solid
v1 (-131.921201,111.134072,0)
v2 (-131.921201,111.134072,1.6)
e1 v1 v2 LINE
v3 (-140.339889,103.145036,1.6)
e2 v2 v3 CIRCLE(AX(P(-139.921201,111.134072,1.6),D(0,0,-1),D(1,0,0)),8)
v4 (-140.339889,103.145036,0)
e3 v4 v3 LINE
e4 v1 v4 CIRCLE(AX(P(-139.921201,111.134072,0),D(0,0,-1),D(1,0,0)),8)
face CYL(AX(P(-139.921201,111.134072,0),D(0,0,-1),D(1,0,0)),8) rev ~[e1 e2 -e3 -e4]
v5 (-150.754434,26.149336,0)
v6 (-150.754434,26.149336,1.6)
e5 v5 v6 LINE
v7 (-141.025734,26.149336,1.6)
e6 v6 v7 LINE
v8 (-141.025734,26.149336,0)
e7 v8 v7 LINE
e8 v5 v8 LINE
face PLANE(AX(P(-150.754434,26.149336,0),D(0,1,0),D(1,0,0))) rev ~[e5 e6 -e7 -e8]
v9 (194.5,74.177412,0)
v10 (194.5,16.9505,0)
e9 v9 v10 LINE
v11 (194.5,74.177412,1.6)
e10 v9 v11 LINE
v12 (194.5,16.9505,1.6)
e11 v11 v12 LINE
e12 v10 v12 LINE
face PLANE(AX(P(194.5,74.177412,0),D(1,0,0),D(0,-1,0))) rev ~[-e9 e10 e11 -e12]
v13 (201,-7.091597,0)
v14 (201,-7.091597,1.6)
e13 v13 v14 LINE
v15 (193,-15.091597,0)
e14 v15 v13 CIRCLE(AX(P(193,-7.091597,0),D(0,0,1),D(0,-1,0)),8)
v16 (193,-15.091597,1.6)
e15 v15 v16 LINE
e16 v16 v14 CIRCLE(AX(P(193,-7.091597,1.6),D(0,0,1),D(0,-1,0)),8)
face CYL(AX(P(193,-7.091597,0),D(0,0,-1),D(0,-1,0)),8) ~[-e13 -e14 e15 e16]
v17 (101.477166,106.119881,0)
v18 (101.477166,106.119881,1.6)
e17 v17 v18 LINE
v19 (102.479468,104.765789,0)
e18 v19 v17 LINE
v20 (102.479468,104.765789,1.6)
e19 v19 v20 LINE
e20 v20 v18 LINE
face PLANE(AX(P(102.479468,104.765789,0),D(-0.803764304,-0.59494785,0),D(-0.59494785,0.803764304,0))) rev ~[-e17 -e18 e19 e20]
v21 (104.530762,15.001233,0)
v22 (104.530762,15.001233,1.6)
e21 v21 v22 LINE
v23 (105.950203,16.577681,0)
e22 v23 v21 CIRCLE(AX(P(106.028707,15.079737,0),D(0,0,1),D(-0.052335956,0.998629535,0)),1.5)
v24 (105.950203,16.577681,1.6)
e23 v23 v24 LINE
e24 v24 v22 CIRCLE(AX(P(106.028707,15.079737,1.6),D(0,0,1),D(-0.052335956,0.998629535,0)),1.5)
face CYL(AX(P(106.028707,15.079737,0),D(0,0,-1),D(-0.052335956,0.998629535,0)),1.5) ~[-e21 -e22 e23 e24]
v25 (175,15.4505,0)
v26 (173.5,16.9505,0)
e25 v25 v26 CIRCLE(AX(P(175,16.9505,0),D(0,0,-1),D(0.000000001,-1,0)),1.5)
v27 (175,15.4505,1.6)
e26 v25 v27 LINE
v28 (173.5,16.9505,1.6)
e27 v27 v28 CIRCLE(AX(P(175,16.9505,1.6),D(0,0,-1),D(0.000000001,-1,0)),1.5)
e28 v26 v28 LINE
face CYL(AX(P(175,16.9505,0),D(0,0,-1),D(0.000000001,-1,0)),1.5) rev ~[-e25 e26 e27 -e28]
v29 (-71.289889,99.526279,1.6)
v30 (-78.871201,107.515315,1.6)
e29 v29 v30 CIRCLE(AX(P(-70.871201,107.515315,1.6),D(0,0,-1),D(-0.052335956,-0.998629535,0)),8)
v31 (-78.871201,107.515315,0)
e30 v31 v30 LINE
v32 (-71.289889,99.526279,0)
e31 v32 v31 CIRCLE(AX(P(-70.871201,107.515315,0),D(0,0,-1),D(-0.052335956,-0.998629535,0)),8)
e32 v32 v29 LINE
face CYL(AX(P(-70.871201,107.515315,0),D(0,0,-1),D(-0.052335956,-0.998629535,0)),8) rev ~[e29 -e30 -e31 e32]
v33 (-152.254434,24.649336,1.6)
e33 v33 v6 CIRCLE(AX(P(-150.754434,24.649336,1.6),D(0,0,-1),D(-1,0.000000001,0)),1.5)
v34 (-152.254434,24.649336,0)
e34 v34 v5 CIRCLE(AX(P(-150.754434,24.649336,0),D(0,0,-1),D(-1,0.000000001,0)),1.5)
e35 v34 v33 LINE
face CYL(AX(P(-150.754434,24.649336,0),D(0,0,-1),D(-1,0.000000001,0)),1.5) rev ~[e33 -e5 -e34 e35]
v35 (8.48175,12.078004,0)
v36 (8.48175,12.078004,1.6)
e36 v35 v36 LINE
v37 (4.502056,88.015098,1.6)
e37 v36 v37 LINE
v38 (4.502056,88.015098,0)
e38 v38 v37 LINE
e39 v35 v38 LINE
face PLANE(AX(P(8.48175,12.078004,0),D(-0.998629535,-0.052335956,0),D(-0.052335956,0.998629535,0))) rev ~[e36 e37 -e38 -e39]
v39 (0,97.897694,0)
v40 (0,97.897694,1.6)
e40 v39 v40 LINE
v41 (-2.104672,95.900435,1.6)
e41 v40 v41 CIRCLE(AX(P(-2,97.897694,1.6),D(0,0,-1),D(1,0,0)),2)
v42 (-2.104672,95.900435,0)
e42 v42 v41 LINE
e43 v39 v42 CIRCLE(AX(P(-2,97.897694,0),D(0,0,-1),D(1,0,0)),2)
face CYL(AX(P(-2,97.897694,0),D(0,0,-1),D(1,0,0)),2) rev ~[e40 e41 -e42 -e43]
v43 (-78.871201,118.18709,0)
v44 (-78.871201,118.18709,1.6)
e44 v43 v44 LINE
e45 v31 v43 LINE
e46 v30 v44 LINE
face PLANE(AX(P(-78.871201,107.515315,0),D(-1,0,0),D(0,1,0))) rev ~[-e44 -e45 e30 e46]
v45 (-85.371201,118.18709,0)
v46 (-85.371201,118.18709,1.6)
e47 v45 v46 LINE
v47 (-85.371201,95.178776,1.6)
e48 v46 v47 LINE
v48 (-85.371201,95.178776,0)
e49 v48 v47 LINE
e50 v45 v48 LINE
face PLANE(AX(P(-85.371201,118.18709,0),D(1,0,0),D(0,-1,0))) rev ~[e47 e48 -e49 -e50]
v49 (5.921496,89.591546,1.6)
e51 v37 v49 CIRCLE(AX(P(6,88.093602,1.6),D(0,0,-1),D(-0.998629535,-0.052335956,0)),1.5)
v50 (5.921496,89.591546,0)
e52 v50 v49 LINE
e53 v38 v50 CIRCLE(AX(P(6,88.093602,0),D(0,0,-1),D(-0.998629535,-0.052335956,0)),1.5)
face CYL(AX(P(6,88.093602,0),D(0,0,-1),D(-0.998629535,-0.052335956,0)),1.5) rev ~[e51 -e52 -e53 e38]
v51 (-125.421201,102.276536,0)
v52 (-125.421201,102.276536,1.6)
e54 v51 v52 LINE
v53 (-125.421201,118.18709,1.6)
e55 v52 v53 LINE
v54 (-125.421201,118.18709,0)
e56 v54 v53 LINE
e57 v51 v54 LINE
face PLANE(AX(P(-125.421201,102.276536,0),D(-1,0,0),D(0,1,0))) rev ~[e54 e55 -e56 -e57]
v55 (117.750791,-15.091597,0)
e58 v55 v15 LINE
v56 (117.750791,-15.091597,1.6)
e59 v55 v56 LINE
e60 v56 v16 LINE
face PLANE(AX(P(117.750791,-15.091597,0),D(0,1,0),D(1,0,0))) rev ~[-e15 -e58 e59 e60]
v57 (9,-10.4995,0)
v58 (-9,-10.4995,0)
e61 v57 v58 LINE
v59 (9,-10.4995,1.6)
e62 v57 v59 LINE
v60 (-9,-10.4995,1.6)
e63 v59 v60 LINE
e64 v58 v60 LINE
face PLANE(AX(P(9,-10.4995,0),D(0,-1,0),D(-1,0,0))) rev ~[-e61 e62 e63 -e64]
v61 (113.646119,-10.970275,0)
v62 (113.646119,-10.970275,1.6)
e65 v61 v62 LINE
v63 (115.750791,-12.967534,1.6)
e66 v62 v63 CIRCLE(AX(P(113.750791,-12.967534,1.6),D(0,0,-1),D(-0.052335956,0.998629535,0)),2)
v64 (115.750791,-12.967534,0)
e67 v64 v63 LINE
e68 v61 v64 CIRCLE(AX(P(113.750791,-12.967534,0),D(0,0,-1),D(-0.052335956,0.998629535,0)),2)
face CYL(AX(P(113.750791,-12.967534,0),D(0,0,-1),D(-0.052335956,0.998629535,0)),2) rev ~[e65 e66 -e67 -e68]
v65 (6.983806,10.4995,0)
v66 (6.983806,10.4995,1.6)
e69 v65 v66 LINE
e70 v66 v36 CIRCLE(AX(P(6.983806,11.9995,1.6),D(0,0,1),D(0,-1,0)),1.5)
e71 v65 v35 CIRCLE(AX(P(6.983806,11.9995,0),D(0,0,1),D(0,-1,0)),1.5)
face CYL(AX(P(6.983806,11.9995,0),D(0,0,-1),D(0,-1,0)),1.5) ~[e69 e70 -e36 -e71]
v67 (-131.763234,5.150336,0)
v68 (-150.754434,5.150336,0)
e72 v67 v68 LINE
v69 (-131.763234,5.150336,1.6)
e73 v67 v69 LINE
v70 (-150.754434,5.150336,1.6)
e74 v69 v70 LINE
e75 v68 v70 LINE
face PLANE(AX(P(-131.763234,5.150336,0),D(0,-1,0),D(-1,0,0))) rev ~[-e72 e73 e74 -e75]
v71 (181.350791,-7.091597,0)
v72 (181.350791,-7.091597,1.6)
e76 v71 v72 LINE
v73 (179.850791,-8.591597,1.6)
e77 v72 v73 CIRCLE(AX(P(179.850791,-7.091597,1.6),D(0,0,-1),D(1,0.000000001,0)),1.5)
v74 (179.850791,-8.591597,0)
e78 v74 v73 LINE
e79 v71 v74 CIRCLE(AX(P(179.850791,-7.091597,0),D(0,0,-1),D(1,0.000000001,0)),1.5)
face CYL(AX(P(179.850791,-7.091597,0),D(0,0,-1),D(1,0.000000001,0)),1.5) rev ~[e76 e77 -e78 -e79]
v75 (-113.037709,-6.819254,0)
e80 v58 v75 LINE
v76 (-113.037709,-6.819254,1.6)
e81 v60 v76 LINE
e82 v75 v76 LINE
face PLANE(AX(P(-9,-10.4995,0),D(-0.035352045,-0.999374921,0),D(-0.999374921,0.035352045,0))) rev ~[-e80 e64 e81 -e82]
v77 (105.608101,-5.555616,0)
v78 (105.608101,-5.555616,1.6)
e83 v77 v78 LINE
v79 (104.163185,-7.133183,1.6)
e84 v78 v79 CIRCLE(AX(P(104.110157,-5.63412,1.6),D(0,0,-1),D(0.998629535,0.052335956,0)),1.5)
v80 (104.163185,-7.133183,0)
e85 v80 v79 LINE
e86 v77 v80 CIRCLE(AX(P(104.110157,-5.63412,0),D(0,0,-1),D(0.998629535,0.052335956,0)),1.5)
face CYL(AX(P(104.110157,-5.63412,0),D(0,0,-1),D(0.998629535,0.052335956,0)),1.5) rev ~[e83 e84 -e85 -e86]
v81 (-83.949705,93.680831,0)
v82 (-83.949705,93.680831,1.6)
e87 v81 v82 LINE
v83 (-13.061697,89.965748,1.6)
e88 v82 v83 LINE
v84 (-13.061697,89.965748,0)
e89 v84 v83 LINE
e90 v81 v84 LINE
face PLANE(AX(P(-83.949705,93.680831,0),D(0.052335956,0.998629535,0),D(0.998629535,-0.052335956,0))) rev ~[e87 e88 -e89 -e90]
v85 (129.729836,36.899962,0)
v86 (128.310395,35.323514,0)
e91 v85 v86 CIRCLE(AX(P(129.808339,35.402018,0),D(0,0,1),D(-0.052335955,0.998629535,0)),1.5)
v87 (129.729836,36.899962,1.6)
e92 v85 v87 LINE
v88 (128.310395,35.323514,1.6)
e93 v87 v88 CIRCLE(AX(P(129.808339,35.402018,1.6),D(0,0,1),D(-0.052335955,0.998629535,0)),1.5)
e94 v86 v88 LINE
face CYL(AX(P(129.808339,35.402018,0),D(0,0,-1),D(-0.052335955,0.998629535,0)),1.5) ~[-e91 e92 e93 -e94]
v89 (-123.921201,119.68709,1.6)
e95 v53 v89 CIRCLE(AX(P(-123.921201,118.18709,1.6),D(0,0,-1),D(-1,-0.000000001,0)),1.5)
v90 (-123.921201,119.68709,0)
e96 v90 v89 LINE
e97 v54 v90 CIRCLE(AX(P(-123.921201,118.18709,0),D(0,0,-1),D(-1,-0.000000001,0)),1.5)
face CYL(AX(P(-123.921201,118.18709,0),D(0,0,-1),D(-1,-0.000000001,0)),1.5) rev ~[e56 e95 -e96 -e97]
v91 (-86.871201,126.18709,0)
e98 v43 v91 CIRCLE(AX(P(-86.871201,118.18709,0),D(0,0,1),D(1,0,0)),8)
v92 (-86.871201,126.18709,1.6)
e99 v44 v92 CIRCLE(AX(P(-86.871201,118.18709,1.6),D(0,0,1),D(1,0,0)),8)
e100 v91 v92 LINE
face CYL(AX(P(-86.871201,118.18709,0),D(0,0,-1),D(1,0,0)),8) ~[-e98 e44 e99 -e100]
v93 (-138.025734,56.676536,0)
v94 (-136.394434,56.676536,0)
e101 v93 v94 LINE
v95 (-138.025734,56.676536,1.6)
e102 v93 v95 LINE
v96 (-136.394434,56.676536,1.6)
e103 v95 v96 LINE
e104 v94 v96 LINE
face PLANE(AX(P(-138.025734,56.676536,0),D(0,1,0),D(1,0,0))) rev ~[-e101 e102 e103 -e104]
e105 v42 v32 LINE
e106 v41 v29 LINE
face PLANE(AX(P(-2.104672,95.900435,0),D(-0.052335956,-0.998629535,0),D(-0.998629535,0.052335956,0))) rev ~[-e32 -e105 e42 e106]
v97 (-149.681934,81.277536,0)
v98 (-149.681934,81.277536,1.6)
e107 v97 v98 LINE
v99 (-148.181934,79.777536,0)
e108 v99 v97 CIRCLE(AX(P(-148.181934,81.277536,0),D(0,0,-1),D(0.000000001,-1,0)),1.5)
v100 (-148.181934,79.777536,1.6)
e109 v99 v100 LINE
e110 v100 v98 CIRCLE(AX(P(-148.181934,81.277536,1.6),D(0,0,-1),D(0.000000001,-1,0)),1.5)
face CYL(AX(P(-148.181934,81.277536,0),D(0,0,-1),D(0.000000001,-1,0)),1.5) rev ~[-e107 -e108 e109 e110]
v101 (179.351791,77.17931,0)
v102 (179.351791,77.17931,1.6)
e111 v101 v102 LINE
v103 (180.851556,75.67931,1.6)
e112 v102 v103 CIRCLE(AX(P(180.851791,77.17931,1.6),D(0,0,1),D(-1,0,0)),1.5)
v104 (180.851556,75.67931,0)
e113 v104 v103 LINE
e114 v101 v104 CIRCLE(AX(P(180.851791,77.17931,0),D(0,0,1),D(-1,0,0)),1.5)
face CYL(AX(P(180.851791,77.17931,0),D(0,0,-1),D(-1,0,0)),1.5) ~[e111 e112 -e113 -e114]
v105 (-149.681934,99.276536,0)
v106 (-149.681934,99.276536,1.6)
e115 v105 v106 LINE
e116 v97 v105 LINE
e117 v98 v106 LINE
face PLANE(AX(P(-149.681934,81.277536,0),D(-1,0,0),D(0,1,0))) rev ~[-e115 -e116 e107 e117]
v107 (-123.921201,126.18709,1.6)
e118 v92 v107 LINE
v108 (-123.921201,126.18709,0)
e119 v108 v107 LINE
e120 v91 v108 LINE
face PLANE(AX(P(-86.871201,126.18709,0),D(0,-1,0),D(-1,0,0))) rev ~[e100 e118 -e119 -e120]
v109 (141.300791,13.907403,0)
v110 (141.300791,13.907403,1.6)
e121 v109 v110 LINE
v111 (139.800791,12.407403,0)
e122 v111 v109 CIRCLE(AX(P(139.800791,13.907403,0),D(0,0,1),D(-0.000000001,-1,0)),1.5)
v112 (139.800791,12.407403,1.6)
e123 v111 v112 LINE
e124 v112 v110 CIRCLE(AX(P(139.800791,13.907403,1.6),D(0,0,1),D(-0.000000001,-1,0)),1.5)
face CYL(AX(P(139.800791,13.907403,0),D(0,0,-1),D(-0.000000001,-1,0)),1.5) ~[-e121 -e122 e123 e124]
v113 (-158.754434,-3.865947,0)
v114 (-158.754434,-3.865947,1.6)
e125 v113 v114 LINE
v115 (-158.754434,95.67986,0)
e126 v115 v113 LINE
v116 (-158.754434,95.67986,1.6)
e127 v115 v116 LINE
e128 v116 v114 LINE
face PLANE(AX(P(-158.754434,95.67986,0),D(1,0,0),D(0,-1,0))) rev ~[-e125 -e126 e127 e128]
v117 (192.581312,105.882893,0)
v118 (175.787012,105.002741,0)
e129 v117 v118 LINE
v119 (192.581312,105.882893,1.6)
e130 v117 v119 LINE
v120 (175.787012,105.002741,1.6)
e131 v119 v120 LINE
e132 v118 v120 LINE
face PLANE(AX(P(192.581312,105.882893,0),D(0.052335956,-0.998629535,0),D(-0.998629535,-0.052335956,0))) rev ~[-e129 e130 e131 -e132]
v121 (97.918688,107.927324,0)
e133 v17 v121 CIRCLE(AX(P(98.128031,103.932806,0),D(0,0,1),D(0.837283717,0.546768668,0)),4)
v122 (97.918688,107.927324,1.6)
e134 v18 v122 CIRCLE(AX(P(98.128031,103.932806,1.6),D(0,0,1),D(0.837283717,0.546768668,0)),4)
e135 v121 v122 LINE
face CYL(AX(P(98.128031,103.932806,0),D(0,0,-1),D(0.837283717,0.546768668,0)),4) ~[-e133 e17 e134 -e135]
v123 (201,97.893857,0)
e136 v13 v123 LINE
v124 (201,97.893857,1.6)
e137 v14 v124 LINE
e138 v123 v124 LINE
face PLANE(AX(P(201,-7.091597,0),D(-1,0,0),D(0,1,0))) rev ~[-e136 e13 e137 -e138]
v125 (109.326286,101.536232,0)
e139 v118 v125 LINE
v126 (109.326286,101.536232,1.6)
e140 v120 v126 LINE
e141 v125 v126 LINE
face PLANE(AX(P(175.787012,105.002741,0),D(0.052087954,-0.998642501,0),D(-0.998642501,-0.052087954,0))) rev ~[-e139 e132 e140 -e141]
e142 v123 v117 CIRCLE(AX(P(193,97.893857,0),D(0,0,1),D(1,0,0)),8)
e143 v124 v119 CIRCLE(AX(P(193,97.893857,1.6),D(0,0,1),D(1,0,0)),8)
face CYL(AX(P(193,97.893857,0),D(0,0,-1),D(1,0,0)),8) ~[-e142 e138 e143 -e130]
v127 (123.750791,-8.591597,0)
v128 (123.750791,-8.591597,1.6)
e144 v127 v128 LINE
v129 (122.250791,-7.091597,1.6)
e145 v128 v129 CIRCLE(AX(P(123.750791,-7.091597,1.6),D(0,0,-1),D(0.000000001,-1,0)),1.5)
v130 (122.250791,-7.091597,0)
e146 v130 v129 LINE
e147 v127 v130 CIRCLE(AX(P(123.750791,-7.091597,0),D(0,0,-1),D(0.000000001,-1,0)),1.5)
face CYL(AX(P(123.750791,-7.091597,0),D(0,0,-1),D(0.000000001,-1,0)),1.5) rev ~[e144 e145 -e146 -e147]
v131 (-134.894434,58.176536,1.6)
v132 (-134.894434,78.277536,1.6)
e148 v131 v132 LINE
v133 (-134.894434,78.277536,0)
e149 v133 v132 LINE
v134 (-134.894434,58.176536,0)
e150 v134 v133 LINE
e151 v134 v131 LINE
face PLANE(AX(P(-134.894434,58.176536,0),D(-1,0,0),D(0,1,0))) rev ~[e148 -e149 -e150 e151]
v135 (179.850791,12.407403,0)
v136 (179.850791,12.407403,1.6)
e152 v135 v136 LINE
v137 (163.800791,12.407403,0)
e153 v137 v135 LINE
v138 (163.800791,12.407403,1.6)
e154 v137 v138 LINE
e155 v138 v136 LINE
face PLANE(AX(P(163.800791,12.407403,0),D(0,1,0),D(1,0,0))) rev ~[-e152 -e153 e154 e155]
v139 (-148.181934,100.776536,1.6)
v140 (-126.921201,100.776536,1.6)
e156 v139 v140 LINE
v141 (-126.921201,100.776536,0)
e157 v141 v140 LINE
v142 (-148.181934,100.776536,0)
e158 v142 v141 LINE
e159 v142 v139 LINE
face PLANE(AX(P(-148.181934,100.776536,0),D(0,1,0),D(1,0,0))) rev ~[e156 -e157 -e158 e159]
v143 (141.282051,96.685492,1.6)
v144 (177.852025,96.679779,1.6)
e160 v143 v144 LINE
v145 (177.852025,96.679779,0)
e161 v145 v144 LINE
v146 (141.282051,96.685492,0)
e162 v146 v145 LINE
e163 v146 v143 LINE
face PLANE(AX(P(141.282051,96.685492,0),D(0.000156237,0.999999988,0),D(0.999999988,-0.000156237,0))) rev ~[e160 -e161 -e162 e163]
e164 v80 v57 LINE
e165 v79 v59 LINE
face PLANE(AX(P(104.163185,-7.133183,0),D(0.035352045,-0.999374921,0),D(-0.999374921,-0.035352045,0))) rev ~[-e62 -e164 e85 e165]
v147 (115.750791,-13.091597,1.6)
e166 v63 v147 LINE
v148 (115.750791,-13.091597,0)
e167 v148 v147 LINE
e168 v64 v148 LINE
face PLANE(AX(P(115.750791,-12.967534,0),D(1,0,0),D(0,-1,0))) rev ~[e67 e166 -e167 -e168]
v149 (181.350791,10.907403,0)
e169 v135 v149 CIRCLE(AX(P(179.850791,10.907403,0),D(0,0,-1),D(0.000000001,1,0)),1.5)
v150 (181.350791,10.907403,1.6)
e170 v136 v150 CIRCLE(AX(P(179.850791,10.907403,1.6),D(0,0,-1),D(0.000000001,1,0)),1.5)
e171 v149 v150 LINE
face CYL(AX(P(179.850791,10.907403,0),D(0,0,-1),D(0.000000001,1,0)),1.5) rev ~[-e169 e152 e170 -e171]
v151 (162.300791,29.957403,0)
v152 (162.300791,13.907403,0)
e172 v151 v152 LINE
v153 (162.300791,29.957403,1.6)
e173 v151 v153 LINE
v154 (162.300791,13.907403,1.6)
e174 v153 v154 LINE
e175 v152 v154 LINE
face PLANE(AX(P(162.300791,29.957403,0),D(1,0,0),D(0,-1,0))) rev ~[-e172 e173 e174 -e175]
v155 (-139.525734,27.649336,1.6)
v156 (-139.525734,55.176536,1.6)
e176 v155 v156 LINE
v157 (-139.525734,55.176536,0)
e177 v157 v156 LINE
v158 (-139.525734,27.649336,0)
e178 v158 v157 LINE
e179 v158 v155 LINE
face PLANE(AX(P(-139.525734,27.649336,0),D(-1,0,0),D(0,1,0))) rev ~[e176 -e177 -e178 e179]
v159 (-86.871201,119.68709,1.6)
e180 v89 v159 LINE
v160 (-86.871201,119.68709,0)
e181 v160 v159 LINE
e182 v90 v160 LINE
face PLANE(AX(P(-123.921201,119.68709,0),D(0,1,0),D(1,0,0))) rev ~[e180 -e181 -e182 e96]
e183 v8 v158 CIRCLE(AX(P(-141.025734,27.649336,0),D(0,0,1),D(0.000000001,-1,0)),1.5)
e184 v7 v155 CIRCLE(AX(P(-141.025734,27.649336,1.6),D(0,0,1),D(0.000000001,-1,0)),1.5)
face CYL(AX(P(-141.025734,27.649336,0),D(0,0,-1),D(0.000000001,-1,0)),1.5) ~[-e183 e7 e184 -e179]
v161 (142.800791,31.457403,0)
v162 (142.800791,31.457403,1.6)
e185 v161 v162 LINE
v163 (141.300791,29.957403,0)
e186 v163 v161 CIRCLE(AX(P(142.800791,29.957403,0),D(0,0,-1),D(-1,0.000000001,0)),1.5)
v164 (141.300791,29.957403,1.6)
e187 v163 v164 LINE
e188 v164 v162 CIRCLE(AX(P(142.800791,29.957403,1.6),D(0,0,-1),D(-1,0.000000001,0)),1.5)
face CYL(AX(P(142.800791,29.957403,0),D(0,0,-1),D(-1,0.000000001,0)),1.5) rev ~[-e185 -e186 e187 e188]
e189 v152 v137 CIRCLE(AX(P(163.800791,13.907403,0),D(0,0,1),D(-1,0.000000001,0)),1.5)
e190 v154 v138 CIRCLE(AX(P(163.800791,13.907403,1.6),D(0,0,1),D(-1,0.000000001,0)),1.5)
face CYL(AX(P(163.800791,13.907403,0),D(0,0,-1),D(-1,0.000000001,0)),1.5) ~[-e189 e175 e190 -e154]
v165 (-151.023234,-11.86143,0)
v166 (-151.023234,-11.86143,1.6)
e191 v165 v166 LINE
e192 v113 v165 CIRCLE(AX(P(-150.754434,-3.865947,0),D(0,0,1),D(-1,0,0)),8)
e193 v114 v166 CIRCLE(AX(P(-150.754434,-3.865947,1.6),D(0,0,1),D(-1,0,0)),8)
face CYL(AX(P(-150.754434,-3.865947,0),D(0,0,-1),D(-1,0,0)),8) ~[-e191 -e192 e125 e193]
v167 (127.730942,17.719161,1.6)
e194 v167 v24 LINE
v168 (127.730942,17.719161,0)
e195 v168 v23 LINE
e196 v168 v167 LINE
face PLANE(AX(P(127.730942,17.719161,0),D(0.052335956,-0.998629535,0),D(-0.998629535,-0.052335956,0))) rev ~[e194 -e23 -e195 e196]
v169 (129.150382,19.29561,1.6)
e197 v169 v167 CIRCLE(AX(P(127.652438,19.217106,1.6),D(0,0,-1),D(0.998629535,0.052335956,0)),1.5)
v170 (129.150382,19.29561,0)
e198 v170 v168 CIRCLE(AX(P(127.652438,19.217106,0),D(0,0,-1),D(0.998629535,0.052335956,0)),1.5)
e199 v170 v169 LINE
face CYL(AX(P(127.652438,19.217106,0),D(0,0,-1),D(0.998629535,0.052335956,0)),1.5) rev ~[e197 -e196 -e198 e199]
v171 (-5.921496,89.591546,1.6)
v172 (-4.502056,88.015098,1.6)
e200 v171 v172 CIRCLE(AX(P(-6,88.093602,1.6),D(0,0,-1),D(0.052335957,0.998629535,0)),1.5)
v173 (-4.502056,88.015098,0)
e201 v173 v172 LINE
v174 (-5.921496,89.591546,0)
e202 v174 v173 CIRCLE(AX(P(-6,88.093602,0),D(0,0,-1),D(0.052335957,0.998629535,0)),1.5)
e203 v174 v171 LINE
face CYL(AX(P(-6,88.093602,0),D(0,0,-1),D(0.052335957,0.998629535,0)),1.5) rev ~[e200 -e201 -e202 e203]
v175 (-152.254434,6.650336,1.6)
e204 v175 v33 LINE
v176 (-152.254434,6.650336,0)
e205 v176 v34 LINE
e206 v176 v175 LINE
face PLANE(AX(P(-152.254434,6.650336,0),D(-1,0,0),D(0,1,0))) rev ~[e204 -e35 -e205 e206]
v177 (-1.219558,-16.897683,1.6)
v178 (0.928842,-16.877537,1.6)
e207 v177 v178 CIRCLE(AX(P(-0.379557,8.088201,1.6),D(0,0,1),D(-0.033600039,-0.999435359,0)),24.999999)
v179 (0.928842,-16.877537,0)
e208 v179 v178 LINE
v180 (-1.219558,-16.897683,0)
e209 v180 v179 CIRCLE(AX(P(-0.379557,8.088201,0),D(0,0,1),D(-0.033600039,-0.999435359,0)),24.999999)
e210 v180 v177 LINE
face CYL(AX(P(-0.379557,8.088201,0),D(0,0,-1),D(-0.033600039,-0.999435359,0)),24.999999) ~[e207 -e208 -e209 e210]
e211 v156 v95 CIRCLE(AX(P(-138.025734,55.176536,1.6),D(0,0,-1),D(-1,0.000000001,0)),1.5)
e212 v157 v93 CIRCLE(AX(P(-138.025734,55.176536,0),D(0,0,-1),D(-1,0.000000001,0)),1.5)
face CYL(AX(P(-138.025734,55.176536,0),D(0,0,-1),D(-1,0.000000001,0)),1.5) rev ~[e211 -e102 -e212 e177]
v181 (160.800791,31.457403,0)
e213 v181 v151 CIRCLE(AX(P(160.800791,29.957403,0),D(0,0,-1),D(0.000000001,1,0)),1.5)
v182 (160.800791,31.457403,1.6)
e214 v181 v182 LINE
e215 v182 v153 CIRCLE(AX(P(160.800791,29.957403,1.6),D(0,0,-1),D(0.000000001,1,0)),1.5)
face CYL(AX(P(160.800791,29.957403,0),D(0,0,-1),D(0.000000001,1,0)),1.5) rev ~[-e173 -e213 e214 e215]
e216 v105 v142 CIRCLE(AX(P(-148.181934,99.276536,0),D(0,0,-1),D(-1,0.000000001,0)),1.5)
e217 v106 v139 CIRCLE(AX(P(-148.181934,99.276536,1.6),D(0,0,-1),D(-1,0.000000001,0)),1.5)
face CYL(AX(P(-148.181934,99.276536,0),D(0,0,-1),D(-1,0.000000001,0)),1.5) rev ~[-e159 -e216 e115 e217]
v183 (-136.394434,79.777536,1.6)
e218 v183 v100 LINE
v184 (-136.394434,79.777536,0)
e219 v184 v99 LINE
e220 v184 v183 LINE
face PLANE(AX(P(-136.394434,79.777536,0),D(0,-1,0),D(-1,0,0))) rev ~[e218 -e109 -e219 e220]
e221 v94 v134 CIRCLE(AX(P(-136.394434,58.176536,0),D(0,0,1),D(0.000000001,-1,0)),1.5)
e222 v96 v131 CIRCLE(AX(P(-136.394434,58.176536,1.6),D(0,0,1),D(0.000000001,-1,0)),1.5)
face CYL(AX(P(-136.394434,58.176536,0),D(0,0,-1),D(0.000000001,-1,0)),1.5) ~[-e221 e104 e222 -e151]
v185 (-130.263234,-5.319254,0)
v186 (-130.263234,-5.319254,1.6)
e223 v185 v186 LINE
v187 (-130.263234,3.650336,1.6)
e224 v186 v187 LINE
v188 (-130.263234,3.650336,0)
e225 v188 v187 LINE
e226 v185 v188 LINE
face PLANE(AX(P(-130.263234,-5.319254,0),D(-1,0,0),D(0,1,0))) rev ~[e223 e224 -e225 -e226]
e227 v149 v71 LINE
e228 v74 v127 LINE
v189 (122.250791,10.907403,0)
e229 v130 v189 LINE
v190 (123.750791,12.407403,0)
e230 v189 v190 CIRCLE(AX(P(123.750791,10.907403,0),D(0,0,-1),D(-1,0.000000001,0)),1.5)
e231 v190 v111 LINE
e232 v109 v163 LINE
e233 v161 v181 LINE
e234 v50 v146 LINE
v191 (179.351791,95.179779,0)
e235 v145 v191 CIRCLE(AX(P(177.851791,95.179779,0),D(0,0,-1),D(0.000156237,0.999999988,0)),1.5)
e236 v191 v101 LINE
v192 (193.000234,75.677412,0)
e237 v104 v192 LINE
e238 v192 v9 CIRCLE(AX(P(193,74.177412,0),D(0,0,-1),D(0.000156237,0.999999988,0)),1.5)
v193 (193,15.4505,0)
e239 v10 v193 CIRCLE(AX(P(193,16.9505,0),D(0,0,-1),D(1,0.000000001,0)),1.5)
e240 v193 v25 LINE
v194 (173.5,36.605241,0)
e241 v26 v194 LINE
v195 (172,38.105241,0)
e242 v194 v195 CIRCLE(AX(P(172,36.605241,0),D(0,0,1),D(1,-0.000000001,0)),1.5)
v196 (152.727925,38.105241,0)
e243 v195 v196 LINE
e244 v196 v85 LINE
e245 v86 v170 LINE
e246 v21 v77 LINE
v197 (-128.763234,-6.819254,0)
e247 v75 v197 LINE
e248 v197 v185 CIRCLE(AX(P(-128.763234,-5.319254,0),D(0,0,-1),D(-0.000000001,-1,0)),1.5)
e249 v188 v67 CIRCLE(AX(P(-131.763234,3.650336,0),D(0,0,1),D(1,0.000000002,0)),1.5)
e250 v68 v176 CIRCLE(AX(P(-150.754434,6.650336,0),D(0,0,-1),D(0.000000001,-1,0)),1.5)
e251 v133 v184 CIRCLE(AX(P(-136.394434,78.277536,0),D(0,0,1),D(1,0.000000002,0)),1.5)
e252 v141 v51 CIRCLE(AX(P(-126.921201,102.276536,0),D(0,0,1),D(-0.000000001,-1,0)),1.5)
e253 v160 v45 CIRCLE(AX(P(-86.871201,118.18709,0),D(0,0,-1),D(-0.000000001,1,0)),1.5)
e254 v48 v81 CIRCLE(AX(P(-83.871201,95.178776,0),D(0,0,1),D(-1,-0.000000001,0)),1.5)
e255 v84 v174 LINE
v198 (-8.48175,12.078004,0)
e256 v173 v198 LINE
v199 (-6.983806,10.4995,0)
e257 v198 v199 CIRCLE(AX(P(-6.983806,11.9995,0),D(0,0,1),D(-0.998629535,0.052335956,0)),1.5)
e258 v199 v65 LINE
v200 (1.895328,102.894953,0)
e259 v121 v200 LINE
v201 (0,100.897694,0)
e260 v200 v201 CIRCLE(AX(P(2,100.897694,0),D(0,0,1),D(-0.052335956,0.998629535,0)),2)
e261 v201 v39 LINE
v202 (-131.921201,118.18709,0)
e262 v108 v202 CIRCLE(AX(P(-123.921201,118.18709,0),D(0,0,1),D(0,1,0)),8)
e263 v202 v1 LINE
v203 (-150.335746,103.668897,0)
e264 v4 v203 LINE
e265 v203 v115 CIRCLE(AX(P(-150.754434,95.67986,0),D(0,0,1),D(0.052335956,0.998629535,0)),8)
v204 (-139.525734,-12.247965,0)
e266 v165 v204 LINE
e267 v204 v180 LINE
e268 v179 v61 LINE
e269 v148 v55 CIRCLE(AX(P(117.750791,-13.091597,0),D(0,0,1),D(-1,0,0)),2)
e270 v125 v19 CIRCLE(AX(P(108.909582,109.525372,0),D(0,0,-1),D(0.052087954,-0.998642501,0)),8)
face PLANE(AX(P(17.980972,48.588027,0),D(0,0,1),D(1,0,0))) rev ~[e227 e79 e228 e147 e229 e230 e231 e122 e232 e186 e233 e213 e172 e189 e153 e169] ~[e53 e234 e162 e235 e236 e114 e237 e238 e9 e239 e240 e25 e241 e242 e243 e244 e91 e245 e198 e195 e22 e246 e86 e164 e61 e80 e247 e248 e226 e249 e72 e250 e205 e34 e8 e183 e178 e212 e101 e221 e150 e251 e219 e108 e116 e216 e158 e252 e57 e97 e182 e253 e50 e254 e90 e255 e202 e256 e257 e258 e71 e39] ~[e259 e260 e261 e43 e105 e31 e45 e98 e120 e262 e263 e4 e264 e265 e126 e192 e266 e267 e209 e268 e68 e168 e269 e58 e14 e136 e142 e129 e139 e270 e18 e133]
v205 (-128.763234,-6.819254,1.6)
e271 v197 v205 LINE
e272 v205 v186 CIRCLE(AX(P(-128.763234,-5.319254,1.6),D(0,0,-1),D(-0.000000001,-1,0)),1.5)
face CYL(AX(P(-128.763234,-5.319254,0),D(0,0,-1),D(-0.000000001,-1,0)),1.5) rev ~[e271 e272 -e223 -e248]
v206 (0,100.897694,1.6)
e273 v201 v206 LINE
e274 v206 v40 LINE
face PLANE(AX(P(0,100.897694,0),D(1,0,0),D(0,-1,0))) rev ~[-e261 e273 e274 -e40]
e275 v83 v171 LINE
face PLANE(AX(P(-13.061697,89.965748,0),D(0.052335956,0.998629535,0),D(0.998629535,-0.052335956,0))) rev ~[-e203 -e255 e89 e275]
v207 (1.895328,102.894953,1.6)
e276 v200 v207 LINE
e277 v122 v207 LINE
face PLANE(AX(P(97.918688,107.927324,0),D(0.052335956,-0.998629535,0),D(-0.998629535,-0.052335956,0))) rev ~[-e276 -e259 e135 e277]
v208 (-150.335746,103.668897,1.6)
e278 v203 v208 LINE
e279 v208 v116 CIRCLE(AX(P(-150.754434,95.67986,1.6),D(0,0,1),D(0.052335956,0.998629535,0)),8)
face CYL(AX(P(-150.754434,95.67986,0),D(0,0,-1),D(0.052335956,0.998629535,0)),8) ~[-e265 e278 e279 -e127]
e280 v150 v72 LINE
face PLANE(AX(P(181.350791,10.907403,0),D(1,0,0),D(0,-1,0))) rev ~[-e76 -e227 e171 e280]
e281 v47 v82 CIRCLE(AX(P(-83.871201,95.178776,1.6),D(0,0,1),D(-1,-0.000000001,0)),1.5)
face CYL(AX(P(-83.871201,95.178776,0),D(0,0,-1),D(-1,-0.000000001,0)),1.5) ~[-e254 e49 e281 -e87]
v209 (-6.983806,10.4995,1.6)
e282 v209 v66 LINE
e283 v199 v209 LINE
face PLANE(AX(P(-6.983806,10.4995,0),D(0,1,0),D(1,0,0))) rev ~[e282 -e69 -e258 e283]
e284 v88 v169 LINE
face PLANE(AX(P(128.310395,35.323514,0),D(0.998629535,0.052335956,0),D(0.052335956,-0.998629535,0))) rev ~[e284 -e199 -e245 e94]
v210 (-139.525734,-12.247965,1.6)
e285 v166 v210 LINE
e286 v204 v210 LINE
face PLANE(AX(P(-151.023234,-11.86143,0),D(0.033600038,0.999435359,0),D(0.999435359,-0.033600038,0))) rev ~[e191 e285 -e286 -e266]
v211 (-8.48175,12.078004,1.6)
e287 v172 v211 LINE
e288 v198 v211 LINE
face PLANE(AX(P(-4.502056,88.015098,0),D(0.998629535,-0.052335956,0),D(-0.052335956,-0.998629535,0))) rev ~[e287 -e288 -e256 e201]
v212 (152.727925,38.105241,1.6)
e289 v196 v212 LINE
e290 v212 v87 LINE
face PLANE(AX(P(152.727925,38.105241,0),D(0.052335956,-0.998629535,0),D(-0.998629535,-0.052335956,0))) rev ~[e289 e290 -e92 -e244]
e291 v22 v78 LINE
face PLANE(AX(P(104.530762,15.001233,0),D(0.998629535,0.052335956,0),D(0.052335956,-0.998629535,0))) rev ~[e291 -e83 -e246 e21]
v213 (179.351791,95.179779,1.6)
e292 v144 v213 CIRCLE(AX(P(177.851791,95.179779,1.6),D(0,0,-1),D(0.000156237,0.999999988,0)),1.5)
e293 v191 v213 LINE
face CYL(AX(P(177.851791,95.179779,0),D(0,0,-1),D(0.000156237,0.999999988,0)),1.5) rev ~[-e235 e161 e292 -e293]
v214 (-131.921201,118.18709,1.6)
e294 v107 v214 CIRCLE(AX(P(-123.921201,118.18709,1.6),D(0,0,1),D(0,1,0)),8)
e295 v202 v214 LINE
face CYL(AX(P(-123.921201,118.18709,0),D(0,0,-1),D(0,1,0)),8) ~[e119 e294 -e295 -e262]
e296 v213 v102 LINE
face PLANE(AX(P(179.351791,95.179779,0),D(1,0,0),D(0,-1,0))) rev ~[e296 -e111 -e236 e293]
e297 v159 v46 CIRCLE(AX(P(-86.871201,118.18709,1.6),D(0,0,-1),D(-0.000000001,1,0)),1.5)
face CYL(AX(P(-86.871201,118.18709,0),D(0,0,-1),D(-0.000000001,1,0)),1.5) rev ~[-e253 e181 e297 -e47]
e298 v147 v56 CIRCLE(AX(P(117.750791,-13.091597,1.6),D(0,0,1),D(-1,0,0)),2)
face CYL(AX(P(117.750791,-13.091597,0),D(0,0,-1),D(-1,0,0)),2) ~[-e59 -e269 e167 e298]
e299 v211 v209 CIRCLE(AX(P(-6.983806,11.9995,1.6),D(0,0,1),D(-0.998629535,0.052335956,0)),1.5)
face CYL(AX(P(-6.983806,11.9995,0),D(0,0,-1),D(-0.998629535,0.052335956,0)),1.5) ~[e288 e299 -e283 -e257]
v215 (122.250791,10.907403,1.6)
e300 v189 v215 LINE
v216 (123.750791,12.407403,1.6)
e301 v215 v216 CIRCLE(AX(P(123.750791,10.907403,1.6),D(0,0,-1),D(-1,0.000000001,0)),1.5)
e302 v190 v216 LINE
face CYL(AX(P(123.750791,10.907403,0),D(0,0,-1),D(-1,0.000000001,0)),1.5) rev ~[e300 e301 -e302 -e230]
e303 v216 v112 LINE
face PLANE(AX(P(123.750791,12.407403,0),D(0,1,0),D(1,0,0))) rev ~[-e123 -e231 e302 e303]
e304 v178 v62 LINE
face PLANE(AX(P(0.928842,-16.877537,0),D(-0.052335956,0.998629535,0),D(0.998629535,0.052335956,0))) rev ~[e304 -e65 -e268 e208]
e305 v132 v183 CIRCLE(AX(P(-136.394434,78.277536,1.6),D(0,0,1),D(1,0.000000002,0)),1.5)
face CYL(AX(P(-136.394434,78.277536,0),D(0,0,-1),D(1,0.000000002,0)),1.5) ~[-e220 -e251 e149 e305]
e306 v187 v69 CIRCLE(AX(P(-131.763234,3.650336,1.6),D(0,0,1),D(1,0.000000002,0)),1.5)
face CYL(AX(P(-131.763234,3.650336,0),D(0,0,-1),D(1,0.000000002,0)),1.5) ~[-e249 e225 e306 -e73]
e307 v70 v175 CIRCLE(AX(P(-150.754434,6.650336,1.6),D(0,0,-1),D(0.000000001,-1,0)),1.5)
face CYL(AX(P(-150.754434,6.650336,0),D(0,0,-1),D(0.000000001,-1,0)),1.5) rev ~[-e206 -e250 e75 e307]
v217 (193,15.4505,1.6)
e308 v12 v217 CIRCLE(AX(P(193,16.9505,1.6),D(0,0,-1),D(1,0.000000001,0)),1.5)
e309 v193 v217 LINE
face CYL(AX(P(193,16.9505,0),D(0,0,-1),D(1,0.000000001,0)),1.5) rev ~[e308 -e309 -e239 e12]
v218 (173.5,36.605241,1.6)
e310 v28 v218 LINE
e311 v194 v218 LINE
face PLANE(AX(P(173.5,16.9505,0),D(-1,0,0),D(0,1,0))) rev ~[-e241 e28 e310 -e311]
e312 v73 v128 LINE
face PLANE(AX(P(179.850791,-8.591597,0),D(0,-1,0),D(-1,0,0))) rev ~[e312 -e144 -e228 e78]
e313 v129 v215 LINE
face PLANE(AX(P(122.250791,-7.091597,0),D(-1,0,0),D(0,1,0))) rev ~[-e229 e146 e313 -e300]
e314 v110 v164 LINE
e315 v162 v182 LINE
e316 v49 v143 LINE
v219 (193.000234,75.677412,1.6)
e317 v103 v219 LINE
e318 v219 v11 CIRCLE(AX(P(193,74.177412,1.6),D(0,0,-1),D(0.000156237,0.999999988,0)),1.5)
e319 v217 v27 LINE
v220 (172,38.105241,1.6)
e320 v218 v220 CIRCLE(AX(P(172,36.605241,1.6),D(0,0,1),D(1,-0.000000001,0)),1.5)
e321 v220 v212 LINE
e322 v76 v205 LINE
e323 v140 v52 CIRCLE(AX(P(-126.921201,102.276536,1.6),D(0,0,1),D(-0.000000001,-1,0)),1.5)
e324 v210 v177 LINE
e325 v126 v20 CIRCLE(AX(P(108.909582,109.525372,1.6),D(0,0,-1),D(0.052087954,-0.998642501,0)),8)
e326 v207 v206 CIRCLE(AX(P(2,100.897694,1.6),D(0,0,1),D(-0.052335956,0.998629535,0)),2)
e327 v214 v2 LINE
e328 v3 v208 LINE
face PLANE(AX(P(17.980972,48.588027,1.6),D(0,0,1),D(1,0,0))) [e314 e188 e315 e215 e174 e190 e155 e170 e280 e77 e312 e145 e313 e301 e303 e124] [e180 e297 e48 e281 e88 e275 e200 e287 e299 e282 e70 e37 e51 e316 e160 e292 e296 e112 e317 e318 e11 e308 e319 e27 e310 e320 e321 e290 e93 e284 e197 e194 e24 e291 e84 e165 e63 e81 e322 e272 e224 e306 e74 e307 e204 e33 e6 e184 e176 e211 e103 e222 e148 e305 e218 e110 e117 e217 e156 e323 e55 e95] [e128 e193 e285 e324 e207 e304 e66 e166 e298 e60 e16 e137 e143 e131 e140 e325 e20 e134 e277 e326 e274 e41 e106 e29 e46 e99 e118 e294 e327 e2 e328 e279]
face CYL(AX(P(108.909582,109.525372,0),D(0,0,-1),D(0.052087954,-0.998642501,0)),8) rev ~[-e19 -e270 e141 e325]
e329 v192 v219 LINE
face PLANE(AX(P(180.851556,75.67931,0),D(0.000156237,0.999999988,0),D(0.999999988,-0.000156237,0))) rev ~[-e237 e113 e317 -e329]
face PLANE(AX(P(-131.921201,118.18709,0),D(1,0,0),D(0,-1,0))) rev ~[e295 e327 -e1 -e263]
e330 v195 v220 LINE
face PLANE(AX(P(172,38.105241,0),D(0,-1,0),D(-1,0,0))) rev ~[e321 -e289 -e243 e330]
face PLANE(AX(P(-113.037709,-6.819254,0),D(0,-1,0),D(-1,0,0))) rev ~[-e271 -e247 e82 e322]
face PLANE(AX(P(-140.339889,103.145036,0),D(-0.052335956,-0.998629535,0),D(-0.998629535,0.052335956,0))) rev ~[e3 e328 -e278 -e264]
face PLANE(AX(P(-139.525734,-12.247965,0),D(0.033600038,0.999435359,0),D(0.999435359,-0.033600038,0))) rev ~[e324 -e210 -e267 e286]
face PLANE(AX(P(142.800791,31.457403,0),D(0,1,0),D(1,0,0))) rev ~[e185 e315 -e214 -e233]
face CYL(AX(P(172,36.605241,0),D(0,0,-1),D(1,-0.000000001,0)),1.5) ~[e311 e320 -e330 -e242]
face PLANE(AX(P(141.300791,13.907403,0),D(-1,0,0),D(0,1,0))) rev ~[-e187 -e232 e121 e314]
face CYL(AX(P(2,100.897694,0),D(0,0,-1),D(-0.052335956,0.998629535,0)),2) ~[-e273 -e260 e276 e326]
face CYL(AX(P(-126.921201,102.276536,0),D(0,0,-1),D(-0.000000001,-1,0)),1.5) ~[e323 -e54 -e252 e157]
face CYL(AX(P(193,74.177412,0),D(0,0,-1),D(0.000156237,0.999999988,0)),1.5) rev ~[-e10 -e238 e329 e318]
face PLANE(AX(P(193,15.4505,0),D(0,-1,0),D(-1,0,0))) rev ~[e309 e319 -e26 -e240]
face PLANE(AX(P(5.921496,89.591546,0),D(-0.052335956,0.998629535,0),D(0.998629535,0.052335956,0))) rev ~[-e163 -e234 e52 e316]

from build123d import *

# Parameters (mm, degrees)
ESTRUSIONE_ESTRUSIONE1_DEPTH = 1.6


with BuildPart() as part:
    # bordo3 → Estrusione-Estrusione1 (new body)
    with BuildSketch(Plane.XY):
        with BuildLine():
            Line((192.58131235, 105.882892913), (175.787012069, 105.00274093))
            Line((175.787012069, 105.00274093), (109.326285673, 101.536231916))
            ThreePointArc((109.326285673, 101.536231916), (105.496696561, 102.289889033), (102.479467612, 104.76578913))
            Line((102.479467612, 104.76578913), (101.477166344, 106.11988089))
            ThreePointArc((101.477166344, 106.11988089), (99.939463207, 107.499136975), (97.91868765, 107.927324355))
            Line((97.91868765, 107.927324355), (1.895328088, 102.894953321))
            ThreePointArc((1.895328088, 102.894953321), (0.549251258, 102.274403403), (0, 100.897694252))
            Line((0, 100.897694252), (0, 97.897694252))
            ThreePointArc((0, 97.897694252), (-0.623290849, 96.44694551), (-2.104671912, 95.900435182))
            Line((-2.104671912, 95.900435182), (-71.289889089, 99.526278774))
            ThreePointArc((-71.289889089, 99.526278774), (-76.674196407, 102.008478446), (-78.871201439, 107.515315052))
            Line((-78.871201439, 107.515315052), (-78.871201439, 118.187089821))
            ThreePointArc((-78.871201439, 118.187089821), (-81.214347189, 123.843944071), (-86.871201439, 126.187089821))
            Line((-86.871201439, 126.187089821), (-123.921201439, 126.187089821))
            ThreePointArc((-123.921201439, 126.187089821), (-129.578055688, 123.843944071), (-131.921201439, 118.187089821))
            Line((-131.921201439, 118.187089821), (-131.921201439, 111.134072211))
            ThreePointArc((-131.921201439, 111.134072211), (-134.414364833, 105.331077243), (-140.339889089, 103.145035933))
            Line((-140.339889089, 103.145035933), (-150.335746034, 103.668896598))
            ThreePointArc((-150.335746034, 103.668896598), (-156.26127029, 101.482855288), (-158.754433684, 95.67986032))
            Line((-158.754433684, 95.67986032), (-158.754433684, -3.865947122))
            ThreePointArc((-158.754433684, -3.865947122), (-156.505538032, -9.426954116), (-151.023233988, -11.861429997))
            Line((-151.023233988, -11.861429997), (-139.525733684, -12.247964697))
            Line((-139.525733684, -12.247964697), (-1.219558299, -16.897682863))
            ThreePointArc((-1.219558299, -16.897682863), (-0.145141858, -16.910699844), (0.928841556, -16.877537249))
            Line((0.928841556, -16.877537249), (113.64611863, -10.970275071))
            ThreePointArc((113.64611863, -10.970275071), (115.127499694, -11.516785399), (115.750790543, -12.967534141))
            Line((115.750790543, -12.967534141), (115.750790543, -13.091597346))
            ThreePointArc((115.750790543, -13.091597346), (116.336576981, -14.505810909), (117.750790543, -15.091597346))
            Line((117.750790543, -15.091597346), (193, -15.091597346))
            ThreePointArc((193, -15.091597346), (198.656854249, -12.748451596), (201, -7.091597346))
            Line((201, -7.091597346), (201, 97.893856635))
            ThreePointArc((201, 97.893856635), (198.506836606, 103.696851603), (192.58131235, 105.882892913))
        make_face()
        with BuildLine():
            ThreePointArc((4.502055698, 88.015097974), (4.885282762, 89.097297818), (5.921496066, 89.591546211))
            Line((5.921496066, 89.591546211), (141.282050751, 96.685492285))
            Line((141.282050751, 96.685492285), (177.852024899, 96.679778694))
            ThreePointArc((177.852024899, 96.679778694), (178.912533569, 96.240356024), (179.351790543, 95.179778713))
            Line((179.351790543, 95.179778713), (179.351790543, 77.179309781))
            ThreePointArc((179.351790543, 77.179309781), (179.791047517, 76.11873247), (180.851556187, 75.6793098))
            Line((180.851556187, 75.6793098), (193.000234356, 75.677411724))
            ThreePointArc((193.000234356, 75.677411724), (194.060743026, 75.237989054), (194.5, 74.177411743))
            Line((194.5, 74.177411743), (194.5, 16.9505))
            ThreePointArc((194.5, 16.9505), (194.060660172, 15.889839828), (193, 15.4505))
            Line((193, 15.4505), (175, 15.4505))
            ThreePointArc((175, 15.4505), (173.939339828, 15.889839828), (173.5, 16.9505))
            Line((173.5, 16.9505), (173.5, 36.605240872))
            ThreePointArc((173.5, 36.605240872), (173.060660172, 37.665901044), (172, 38.105240872))
            Line((172, 38.105240872), (152.727925239, 38.105240872))
            Line((152.727925239, 38.105240872), (129.729835534, 36.899962063))
            ThreePointArc((129.729835534, 36.899962063), (128.69362223, 36.405713671), (128.310395167, 35.323513827))
            Line((128.310395167, 35.323513827), (129.150382031, 19.295609657))
            ThreePointArc((129.150382031, 19.295609657), (128.767154967, 18.213409813), (127.730941663, 17.71916142))
            Line((127.730941663, 17.71916142), (105.950202838, 16.577681267))
            ThreePointArc((105.950202838, 16.577681267), (104.913989534, 16.083432875), (104.53076247, 15.001233031))
            Line((104.53076247, 15.001233031), (105.60810129, -5.555616249))
            ThreePointArc((105.60810129, -5.555616249), (105.216302409, -6.647255074), (104.163185056, -7.133182565))
            Line((104.163185056, -7.133182565), (9, -10.4995))
            Line((9, -10.4995), (-9, -10.4995))
            Line((-9, -10.4995), (-113.037709318, -6.819253752))
            Line((-113.037709318, -6.819253752), (-128.763233684, -6.819253752))
            ThreePointArc((-128.763233684, -6.819253752), (-129.823893856, -6.379913923), (-130.263233684, -5.319253752))
            Line((-130.263233684, -5.319253752), (-130.263233684, 3.650335982))
            ThreePointArc((-130.263233684, 3.650335982), (-130.702573513, 4.710996153), (-131.763233684, 5.150335982))
            Line((-131.763233684, 5.150335982), (-150.754433684, 5.150335982))
            ThreePointArc((-150.754433684, 5.150335982), (-151.815093856, 5.58967581), (-152.254433684, 6.650335982))
            Line((-152.254433684, 6.650335982), (-152.254433684, 24.649335982))
            ThreePointArc((-152.254433684, 24.649335982), (-151.815093856, 25.709996153), (-150.754433684, 26.149335982))
            Line((-150.754433684, 26.149335982), (-141.025733684, 26.149335982))
            ThreePointArc((-141.025733684, 26.149335982), (-139.965073513, 26.58867581), (-139.525733684, 27.649335982))
            Line((-139.525733684, 27.649335982), (-139.525733684, 55.176535982))
            ThreePointArc((-139.525733684, 55.176535982), (-139.086393856, 56.237196153), (-138.025733684, 56.676535982))
            Line((-138.025733684, 56.676535982), (-136.394433684, 56.676535982))
            ThreePointArc((-136.394433684, 56.676535982), (-135.333773513, 57.11587581), (-134.894433684, 58.176535982))
            Line((-134.894433684, 58.176535982), (-134.894433684, 78.277535982))
            ThreePointArc((-134.894433684, 78.277535982), (-135.333773513, 79.338196153), (-136.394433684, 79.777535982))
            Line((-136.394433684, 79.777535982), (-148.181933684, 79.777535982))
            ThreePointArc((-148.181933684, 79.777535982), (-149.242593856, 80.21687581), (-149.681933684, 81.277535982))
            Line((-149.681933684, 81.277535982), (-149.681933684, 99.276535982))
            ThreePointArc((-149.681933684, 99.276535982), (-149.242593856, 100.337196153), (-148.181933684, 100.776535982))
            Line((-148.181933684, 100.776535982), (-126.921201439, 100.776535982))
            ThreePointArc((-126.921201439, 100.776535982), (-125.860541267, 101.21587581), (-125.421201439, 102.276535982))
            Line((-125.421201439, 102.276535982), (-125.421201439, 118.187089821))
            ThreePointArc((-125.421201439, 118.187089821), (-124.981861611, 119.247749993), (-123.921201439, 119.687089821))
            Line((-123.921201439, 119.687089821), (-86.871201439, 119.687089821))
            ThreePointArc((-86.871201439, 119.687089821), (-85.810541267, 119.247749993), (-85.371201439, 118.187089821))
            Line((-85.371201439, 118.187089821), (-85.371201439, 95.178775684))
            ThreePointArc((-85.371201439, 95.178775684), (-84.959262995, 94.146243821), (-83.949705373, 93.680831382))
            Line((-83.949705373, 93.680831382), (-13.061697239, 89.965748298))
            Line((-13.061697239, 89.965748298), (-5.921496066, 89.591546211))
            ThreePointArc((-5.921496066, 89.591546211), (-4.885282762, 89.097297818), (-4.502055698, 88.015097975))
            Line((-4.502055698, 88.015097975), (-8.481750162, 12.078003934))
            ThreePointArc((-8.481750162, 12.078003934), (-8.071867416, 10.966968136), (-6.98380586, 10.4995))
            Line((-6.98380586, 10.4995), (6.98380586, 10.4995))
            ThreePointArc((6.98380586, 10.4995), (8.071867416, 10.966968136), (8.481750162, 12.078003934))
            Line((8.481750162, 12.078003934), (4.502055698, 88.015097974))
        make_face(mode=Mode.SUBTRACT)
        with BuildLine():
            ThreePointArc((123.750790543, -8.591597346), (122.690130371, -8.152257518), (122.250790543, -7.091597346))
            Line((122.250790543, -7.091597346), (122.250790543, 10.907402654))
            ThreePointArc((122.250790543, 10.907402654), (122.690130371, 11.968062825), (123.750790543, 12.407402654))
            Line((123.750790543, 12.407402654), (139.800790543, 12.407402654))
            ThreePointArc((139.800790543, 12.407402654), (140.861450715, 12.846742482), (141.300790543, 13.907402654))
            Line((141.300790543, 13.907402654), (141.300790543, 29.957402654))
            ThreePointArc((141.300790543, 29.957402654), (141.740130371, 31.018062825), (142.800790543, 31.457402654))
            Line((142.800790543, 31.457402654), (160.800790543, 31.457402654))
            ThreePointArc((160.800790543, 31.457402654), (161.861450715, 31.018062825), (162.300790543, 29.957402654))
            Line((162.300790543, 29.957402654), (162.300790543, 13.907402654))
            ThreePointArc((162.300790543, 13.907402654), (162.740130371, 12.846742482), (163.800790543, 12.407402654))
            Line((163.800790543, 12.407402654), (179.850790543, 12.407402654))
            ThreePointArc((179.850790543, 12.407402654), (180.911450715, 11.968062825), (181.350790543, 10.907402654))
            Line((181.350790543, 10.907402654), (181.350790543, -7.091597346))
            ThreePointArc((181.350790543, -7.091597346), (180.911450715, -8.152257518), (179.850790543, -8.591597346))
            Line((179.850790543, -8.591597346), (123.750790543, -8.591597346))
        make_face(mode=Mode.SUBTRACT)
    extrude(amount=ESTRUSIONE_ESTRUSIONE1_DEPTH)


solid = part.part
